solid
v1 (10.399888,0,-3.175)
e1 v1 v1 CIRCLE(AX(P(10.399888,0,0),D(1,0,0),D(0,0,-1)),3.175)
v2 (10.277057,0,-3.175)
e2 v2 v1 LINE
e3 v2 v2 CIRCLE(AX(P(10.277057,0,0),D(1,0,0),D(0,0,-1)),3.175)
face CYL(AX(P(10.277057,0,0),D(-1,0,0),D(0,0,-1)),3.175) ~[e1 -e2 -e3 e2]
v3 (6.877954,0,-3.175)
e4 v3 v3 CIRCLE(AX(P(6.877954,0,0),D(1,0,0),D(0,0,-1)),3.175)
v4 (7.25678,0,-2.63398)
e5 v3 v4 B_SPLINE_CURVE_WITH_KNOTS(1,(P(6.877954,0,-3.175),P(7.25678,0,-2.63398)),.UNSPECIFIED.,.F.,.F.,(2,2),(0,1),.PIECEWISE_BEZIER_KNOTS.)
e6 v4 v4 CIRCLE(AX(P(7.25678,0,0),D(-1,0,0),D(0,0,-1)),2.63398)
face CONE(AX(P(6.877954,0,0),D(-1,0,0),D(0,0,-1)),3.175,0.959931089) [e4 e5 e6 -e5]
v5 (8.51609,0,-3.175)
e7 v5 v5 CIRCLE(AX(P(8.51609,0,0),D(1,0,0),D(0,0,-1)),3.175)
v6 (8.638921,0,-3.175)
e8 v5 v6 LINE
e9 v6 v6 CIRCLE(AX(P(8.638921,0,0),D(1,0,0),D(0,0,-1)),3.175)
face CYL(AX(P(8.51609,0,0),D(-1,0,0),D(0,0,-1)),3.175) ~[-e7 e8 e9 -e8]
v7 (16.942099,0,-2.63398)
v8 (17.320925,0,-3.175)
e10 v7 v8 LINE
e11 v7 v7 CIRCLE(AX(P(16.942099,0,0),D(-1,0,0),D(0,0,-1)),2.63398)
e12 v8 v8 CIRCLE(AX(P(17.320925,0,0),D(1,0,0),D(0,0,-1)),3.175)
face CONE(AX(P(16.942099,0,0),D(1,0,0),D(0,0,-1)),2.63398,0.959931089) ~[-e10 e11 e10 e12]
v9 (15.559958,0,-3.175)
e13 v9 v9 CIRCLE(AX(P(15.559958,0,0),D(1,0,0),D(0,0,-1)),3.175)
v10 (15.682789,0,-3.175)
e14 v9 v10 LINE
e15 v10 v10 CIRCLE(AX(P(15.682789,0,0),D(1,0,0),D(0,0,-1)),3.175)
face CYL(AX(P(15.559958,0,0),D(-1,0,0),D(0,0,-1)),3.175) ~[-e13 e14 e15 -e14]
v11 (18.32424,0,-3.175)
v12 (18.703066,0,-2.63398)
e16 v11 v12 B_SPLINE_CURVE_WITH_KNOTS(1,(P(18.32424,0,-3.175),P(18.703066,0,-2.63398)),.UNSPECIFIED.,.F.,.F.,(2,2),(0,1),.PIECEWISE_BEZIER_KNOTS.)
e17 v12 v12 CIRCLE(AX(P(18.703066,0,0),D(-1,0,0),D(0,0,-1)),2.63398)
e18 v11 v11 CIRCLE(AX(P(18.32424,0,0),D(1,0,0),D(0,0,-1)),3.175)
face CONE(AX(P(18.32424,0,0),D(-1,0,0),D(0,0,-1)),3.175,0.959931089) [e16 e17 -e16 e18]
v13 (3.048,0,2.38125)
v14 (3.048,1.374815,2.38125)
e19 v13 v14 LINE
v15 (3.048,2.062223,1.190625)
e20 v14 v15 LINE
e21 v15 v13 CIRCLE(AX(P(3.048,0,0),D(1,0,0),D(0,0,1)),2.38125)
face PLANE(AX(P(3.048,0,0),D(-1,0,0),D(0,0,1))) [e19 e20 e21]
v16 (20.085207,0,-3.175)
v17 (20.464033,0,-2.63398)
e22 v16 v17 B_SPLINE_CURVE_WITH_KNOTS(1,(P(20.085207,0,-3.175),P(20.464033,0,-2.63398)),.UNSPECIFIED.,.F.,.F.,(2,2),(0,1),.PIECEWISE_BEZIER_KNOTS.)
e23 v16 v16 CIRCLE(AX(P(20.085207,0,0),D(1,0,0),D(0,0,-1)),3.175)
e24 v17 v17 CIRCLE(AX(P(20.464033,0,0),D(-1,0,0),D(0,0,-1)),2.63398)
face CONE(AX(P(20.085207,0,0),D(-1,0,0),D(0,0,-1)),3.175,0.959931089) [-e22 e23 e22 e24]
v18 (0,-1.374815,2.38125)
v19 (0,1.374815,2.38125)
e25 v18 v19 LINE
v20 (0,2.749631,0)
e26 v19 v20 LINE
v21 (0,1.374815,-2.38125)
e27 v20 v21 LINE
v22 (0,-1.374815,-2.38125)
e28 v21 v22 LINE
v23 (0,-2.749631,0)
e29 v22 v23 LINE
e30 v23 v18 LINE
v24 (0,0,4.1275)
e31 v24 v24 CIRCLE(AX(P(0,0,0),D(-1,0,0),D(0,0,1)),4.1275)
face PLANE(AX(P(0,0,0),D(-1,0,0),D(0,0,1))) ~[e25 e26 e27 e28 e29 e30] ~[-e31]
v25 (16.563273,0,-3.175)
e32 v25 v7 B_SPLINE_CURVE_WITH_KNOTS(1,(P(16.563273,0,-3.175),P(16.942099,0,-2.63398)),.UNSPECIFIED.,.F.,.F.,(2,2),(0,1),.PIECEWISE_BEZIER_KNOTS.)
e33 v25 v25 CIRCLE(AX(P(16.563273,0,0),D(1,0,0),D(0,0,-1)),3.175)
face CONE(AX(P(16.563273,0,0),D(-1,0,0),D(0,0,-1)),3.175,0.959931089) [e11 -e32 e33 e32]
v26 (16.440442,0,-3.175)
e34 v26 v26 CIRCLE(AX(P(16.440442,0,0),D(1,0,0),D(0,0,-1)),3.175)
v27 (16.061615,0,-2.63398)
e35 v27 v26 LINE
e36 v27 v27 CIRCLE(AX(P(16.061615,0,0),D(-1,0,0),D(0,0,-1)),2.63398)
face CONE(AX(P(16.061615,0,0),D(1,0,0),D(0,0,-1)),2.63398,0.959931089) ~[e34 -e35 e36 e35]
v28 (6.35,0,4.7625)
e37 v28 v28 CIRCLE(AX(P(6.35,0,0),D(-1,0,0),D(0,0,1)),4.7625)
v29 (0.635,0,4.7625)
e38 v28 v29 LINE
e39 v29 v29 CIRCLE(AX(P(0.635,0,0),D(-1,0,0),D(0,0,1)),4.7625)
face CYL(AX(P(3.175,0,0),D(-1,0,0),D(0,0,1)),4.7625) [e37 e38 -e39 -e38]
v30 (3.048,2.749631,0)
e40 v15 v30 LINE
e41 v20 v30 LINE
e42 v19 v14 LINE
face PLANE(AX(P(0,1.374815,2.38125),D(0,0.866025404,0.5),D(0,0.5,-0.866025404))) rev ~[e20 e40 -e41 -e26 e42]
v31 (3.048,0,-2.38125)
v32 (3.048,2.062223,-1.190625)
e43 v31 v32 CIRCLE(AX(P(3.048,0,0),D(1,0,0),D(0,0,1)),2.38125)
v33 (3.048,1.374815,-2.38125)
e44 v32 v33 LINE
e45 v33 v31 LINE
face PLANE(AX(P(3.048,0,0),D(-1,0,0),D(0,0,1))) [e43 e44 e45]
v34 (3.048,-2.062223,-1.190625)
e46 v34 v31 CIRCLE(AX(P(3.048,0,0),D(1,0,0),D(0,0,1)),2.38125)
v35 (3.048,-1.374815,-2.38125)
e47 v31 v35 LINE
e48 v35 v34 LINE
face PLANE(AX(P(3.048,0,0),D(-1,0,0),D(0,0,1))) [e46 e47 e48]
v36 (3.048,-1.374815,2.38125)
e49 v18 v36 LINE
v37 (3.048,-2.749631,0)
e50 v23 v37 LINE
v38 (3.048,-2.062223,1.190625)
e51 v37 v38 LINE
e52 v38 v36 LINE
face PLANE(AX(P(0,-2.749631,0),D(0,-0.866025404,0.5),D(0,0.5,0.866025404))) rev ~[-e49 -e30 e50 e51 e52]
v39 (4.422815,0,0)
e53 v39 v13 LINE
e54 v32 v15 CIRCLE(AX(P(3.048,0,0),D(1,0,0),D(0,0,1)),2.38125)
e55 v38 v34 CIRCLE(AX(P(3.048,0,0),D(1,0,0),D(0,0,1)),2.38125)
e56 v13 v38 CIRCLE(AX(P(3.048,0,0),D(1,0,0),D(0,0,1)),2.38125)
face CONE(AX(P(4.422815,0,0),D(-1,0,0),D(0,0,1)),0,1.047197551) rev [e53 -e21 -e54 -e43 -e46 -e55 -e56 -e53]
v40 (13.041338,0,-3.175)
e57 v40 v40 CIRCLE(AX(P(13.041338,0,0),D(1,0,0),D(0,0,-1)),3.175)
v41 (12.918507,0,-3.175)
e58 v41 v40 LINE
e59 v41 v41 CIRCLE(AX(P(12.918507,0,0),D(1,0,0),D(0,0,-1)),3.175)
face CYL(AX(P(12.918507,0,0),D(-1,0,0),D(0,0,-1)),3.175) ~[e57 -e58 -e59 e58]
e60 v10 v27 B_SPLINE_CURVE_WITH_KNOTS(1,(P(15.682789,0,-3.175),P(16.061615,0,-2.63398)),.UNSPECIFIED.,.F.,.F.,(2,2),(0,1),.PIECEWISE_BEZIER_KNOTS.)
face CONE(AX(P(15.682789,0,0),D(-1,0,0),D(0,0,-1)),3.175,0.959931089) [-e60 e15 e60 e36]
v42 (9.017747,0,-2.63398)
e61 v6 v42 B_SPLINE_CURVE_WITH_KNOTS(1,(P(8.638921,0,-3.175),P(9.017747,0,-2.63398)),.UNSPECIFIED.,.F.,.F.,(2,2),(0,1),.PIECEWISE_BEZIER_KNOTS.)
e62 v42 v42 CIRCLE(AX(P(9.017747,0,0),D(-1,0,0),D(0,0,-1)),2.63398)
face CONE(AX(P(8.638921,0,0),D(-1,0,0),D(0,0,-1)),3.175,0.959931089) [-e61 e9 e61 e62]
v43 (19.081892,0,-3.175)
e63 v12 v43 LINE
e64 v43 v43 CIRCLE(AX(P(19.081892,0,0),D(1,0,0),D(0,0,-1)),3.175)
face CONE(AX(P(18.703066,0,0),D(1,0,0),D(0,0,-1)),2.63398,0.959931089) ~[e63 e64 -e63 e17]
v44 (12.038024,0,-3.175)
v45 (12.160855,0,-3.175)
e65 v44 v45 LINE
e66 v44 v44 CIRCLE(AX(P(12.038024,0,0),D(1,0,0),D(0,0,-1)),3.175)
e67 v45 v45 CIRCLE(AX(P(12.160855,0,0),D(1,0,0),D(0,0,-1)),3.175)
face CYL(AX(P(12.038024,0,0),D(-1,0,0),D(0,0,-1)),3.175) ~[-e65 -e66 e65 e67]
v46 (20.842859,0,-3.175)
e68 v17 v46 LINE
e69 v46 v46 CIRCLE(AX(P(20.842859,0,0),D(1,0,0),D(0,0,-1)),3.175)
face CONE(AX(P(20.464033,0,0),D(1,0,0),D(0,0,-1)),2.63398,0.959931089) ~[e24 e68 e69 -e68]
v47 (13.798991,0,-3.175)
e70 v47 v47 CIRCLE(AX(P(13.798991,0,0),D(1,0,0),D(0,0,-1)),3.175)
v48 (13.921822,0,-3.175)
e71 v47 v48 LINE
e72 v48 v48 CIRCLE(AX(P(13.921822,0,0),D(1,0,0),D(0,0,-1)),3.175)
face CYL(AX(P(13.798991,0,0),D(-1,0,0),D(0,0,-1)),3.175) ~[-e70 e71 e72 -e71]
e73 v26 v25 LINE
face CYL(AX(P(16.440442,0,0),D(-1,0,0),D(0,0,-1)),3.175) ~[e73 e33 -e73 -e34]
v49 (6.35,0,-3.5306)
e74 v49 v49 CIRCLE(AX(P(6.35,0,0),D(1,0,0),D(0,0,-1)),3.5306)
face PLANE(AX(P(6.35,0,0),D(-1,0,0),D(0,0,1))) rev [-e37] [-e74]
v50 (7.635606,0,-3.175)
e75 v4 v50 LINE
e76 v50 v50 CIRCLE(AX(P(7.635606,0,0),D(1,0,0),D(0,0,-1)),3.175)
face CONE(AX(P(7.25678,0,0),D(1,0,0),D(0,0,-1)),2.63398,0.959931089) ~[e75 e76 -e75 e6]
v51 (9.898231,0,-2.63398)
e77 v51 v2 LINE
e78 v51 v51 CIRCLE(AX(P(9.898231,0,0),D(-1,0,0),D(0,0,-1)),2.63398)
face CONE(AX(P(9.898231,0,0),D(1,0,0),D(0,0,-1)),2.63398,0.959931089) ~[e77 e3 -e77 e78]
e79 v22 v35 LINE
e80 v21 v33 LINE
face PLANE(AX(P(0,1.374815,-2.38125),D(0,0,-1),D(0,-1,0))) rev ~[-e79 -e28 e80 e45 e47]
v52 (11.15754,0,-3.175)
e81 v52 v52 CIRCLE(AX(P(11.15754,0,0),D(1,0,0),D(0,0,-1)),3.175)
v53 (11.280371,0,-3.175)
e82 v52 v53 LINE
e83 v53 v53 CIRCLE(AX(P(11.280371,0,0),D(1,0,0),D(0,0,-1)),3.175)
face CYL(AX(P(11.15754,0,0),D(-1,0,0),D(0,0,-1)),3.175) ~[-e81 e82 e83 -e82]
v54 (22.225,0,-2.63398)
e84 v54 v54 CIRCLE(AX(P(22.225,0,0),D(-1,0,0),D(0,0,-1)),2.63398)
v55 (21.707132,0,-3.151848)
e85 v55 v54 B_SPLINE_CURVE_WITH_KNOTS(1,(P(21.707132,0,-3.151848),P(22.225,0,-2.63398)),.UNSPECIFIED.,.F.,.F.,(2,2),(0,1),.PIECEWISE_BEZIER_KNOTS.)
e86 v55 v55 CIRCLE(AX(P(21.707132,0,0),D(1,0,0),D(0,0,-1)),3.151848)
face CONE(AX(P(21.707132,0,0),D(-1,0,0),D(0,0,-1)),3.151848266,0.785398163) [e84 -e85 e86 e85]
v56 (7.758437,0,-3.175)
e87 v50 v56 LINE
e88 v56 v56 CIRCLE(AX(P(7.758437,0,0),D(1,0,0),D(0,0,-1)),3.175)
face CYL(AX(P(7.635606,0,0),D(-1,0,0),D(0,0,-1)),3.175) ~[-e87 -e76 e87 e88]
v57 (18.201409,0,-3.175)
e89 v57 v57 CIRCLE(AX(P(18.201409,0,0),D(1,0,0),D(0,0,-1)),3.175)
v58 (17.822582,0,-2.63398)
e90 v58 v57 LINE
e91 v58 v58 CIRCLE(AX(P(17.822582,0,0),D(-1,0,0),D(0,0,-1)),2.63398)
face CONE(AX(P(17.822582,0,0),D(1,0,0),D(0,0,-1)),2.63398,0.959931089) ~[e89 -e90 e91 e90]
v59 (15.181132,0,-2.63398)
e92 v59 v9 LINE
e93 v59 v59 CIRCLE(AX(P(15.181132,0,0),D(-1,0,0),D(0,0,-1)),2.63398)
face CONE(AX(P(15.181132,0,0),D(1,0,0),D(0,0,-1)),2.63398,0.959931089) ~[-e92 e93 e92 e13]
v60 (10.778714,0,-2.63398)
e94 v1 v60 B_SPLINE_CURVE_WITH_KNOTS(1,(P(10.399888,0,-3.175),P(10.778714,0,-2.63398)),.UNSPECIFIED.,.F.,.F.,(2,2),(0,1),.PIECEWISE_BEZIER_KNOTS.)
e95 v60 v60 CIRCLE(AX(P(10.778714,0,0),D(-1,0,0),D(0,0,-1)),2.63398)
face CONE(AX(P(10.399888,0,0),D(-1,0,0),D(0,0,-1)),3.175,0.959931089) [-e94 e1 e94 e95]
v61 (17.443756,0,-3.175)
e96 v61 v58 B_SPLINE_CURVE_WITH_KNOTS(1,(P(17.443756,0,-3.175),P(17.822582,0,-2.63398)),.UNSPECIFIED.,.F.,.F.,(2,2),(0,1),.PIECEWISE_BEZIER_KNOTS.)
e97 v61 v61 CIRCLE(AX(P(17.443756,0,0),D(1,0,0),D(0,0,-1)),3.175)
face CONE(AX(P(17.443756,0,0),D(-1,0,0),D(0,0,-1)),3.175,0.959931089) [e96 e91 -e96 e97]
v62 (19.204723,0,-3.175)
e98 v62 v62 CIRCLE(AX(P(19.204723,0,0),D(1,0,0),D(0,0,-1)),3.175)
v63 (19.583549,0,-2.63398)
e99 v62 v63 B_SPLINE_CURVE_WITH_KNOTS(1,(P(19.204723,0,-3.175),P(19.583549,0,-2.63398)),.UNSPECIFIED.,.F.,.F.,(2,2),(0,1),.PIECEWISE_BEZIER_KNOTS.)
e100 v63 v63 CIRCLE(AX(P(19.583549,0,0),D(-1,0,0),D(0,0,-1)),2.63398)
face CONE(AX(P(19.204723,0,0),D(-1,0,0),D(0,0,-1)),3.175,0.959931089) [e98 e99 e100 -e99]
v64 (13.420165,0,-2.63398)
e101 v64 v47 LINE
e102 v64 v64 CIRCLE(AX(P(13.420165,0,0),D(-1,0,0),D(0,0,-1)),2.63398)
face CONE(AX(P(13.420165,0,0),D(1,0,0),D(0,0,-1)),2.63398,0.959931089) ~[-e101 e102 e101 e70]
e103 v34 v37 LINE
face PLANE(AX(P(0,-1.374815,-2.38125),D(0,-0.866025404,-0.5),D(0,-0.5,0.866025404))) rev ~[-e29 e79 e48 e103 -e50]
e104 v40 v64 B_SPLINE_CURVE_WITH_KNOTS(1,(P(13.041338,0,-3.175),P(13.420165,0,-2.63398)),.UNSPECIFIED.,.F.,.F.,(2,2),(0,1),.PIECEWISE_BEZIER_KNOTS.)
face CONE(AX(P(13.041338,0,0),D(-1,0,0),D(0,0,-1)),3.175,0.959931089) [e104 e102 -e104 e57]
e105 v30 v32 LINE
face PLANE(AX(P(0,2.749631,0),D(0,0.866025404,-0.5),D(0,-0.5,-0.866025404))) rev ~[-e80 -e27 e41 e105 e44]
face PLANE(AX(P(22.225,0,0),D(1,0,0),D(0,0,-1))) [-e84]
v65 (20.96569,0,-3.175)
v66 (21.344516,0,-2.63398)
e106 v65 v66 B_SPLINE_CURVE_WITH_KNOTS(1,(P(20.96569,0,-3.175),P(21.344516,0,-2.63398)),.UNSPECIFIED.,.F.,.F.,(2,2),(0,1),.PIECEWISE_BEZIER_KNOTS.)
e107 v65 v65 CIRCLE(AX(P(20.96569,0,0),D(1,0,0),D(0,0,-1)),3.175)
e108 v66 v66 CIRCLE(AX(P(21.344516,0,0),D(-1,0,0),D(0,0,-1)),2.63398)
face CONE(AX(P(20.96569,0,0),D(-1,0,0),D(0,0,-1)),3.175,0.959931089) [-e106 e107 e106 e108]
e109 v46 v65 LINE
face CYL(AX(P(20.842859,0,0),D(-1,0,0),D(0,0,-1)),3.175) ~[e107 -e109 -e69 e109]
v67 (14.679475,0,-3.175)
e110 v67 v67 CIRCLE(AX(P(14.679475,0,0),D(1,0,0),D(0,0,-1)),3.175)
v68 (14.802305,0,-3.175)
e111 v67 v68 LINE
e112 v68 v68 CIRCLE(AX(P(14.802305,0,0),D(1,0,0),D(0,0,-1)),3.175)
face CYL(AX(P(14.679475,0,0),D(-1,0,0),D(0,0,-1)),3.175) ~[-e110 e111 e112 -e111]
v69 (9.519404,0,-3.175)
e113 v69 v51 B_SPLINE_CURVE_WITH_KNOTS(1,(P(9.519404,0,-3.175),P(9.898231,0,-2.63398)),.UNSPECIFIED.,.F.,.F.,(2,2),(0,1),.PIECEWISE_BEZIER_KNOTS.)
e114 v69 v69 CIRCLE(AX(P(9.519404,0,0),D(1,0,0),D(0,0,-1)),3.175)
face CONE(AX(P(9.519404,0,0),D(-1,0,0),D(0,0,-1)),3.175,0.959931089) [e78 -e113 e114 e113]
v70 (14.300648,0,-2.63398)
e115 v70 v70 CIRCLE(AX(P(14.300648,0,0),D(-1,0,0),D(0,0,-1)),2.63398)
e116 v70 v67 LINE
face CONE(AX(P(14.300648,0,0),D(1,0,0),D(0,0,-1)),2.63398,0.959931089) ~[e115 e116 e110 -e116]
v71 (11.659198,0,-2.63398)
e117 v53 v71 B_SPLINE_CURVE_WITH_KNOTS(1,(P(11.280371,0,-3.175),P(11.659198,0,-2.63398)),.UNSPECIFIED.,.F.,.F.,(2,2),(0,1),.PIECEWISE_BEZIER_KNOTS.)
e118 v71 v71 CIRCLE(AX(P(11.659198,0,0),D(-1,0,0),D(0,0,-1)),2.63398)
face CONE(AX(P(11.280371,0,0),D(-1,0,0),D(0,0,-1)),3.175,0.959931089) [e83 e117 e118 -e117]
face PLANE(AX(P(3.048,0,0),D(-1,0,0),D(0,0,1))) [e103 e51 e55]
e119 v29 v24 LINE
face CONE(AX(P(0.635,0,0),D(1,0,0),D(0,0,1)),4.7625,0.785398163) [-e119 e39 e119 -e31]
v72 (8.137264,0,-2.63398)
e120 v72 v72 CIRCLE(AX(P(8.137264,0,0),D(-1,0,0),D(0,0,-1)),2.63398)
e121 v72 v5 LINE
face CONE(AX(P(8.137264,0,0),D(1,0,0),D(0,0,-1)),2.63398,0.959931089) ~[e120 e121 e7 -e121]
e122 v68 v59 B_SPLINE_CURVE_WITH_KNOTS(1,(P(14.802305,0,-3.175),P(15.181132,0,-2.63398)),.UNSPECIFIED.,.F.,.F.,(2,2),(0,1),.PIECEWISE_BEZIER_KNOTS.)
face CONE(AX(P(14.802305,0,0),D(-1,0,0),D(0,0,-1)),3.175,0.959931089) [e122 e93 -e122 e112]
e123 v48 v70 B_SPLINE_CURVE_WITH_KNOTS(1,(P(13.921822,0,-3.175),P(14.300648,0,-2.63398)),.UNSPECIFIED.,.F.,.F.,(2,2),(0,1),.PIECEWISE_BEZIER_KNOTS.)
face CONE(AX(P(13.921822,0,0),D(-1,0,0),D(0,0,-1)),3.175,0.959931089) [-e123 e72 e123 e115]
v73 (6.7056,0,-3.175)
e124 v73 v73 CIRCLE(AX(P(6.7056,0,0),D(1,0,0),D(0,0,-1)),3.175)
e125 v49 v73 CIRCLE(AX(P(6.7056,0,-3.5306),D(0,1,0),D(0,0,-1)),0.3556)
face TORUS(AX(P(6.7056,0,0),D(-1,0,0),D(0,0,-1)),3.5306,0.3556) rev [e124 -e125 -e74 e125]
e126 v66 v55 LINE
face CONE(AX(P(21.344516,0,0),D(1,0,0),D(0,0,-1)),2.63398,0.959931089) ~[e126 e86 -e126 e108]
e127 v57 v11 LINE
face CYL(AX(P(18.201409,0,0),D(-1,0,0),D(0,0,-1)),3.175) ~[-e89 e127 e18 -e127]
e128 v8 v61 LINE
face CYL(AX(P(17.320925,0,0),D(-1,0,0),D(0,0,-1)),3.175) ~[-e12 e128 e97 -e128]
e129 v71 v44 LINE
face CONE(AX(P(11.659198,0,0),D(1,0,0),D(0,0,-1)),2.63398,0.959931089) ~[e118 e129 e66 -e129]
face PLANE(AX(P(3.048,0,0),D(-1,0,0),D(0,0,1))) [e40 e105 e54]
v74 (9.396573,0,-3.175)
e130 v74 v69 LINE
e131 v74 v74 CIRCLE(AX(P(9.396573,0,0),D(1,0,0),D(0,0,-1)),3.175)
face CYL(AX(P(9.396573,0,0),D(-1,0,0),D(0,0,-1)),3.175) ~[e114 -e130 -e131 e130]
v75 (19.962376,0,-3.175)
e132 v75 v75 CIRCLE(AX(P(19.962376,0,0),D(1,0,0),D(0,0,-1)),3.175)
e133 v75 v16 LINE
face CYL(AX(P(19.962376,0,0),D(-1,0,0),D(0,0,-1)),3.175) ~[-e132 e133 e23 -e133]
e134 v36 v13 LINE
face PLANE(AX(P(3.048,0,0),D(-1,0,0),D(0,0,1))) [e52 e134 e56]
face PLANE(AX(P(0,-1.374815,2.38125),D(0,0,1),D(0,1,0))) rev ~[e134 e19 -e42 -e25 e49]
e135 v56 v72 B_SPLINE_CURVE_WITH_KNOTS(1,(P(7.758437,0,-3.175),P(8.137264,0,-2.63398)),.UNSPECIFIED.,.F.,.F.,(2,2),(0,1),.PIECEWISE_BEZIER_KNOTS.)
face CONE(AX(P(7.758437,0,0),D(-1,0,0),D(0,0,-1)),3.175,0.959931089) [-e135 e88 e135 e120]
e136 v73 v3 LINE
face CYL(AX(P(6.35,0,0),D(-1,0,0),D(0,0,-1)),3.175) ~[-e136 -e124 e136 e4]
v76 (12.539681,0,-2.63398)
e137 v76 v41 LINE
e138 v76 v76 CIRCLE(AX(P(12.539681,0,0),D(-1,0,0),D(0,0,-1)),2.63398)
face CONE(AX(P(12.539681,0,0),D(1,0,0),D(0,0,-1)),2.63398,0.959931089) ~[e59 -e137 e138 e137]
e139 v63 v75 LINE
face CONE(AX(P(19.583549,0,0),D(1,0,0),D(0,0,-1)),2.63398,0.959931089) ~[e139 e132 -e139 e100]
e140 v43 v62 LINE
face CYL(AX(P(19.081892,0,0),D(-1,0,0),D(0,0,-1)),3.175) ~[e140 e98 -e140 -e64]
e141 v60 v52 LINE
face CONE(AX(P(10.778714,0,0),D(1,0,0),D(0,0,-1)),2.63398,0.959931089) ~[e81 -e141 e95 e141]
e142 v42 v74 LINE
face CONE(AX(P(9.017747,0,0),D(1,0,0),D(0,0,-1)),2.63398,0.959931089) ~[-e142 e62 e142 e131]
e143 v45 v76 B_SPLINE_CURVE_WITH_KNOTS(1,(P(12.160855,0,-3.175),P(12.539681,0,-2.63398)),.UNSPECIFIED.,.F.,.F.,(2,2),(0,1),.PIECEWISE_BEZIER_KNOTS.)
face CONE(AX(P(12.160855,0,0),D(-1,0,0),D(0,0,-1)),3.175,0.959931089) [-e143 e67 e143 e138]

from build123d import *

# Parameters (mm, degrees)
SKETCH1_W            = 6.35
SKETCH1_H            = 4.7625
SKETCH2_R            = 3.175
BOSS_EXTRUDE1_DEPTH  = 0.527953718
SKETCH3_R            = 3.175
BOSS_EXTRUDE2_DEPTH  = 0.378826282
BOSS_EXTRUDE2_TAPER  = 55.000000001
SKETCH4_R            = 2.63398
BOSS_EXTRUDE3_DEPTH  = 0.378826282
BOSS_EXTRUDE3_DRAFT  = -54.999999998
SKETCH5_R            = 3.175
BOSS_EXTRUDE4_DEPTH  = 0.122830965
SKETCH6_R            = 3.175
BOSS_EXTRUDE5_DEPTH  = 0.378826282
BOSS_EXTRUDE5_TAPER  = 54.999999998
SKETCH7_R            = 2.63398
BOSS_EXTRUDE6_DEPTH  = 0.378826282
BOSS_EXTRUDE6_DRAFT  = -54.999999998
SKETCH8_R            = 3.175
BOSS_EXTRUDE7_DEPTH  = 0.122830965
SKETCH9_R            = 3.175
BOSS_EXTRUDE8_DEPTH  = 0.378826282
BOSS_EXTRUDE8_TAPER  = 54.999999998
SKETCH10_R           = 2.63398
BOSS_EXTRUDE9_DEPTH  = 0.378826282
BOSS_EXTRUDE9_DRAFT  = -54.999999998
SKETCH11_R           = 3.175
BOSS_EXTRUDE10_DEPTH = 0.122830965
SKETCH12_R           = 3.175
BOSS_EXTRUDE11_DEPTH = 0.378826282
BOSS_EXTRUDE11_TAPER = 54.999999998
SKETCH13_R           = 2.63398
BOSS_EXTRUDE12_DEPTH = 0.378826282
BOSS_EXTRUDE12_DRAFT = -54.999999998
SKETCH14_R           = 3.175
BOSS_EXTRUDE13_DEPTH = 0.122830965
SKETCH15_R           = 3.175
BOSS_EXTRUDE14_DEPTH = 0.378826282
BOSS_EXTRUDE14_TAPER = 54.999999998
SKETCH16_R           = 2.63398
BOSS_EXTRUDE15_DEPTH = 0.378826282
BOSS_EXTRUDE15_DRAFT = -54.999999998
SKETCH17_R           = 3.175
BOSS_EXTRUDE16_DEPTH = 0.122830965
SKETCH18_R           = 3.175
BOSS_EXTRUDE17_DEPTH = 0.378826282
BOSS_EXTRUDE17_TAPER = 54.999999998
SKETCH19_R           = 2.63398
BOSS_EXTRUDE18_DEPTH = 0.378826282
BOSS_EXTRUDE18_DRAFT = -54.999999998
SKETCH20_R           = 3.175
BOSS_EXTRUDE19_DEPTH = 0.122830965
SKETCH21_R           = 3.175
BOSS_EXTRUDE20_DEPTH = 0.378826282
BOSS_EXTRUDE20_TAPER = 54.999999998
SKETCH22_R           = 2.63398
BOSS_EXTRUDE21_DEPTH = 0.378826282
BOSS_EXTRUDE21_DRAFT = -54.999999998
SKETCH23_R           = 3.175
BOSS_EXTRUDE22_DEPTH = 0.122830965
SKETCH24_R           = 3.175
BOSS_EXTRUDE23_DEPTH = 0.378826282
BOSS_EXTRUDE23_TAPER = 54.999999998
SKETCH25_R           = 2.63398
BOSS_EXTRUDE24_DEPTH = 0.378826282
BOSS_EXTRUDE24_DRAFT = -54.999999998
SKETCH26_R           = 3.175
BOSS_EXTRUDE25_DEPTH = 0.122830965
SKETCH27_R           = 3.175
BOSS_EXTRUDE26_DEPTH = 0.378826282
BOSS_EXTRUDE26_TAPER = 55
SKETCH28_R           = 2.63398
BOSS_EXTRUDE27_DEPTH = 0.378826282
BOSS_EXTRUDE27_DRAFT = -54.999999998
SKETCH29_R           = 3.175
BOSS_EXTRUDE28_DEPTH = 0.122830965
SKETCH30_R           = 3.175
BOSS_EXTRUDE29_DEPTH = 0.378826282
BOSS_EXTRUDE29_TAPER = 54.999999998
SKETCH31_R           = 2.63398
BOSS_EXTRUDE30_DEPTH = 0.378826282
BOSS_EXTRUDE30_DRAFT = -54.999999998
SKETCH32_R           = 3.175
BOSS_EXTRUDE31_DEPTH = 0.122830965
SKETCH33_R           = 3.175
BOSS_EXTRUDE32_DEPTH = 0.378826282
BOSS_EXTRUDE32_TAPER = 55
SKETCH34_R           = 2.63398
BOSS_EXTRUDE33_DEPTH = 0.378826282
BOSS_EXTRUDE33_DRAFT = -54.999999998
SKETCH35_R           = 3.175
BOSS_EXTRUDE34_DEPTH = 0.122830965
SKETCH36_R           = 3.175
BOSS_EXTRUDE35_DEPTH = 0.378826282
BOSS_EXTRUDE35_TAPER = 55
SKETCH37_R           = 2.63398
BOSS_EXTRUDE36_DEPTH = 0.378826282
BOSS_EXTRUDE36_DRAFT = -54.999999998
SKETCH38_R           = 3.175
BOSS_EXTRUDE37_DEPTH = 0.122830965
SKETCH39_R           = 3.175
BOSS_EXTRUDE38_DEPTH = 0.378826282
BOSS_EXTRUDE38_TAPER = 55
SKETCH40_R           = 2.63398
BOSS_EXTRUDE39_DEPTH = 0.378826282
BOSS_EXTRUDE39_DRAFT = -54.999999998
SKETCH41_R           = 3.175
BOSS_EXTRUDE40_DEPTH = 0.122830965
SKETCH42_R           = 3.175
BOSS_EXTRUDE41_DEPTH = 0.378826282
BOSS_EXTRUDE41_TAPER = 55
SKETCH43_R           = 2.63398
BOSS_EXTRUDE42_DEPTH = 0.378826282
BOSS_EXTRUDE42_DRAFT = -54.999999998
SKETCH44_R           = 3.175
BOSS_EXTRUDE43_DEPTH = 0.122830965
SKETCH45_R           = 3.175
BOSS_EXTRUDE44_DEPTH = 0.378826282
BOSS_EXTRUDE44_TAPER = 55
SKETCH46_R           = 2.63398
BOSS_EXTRUDE45_DEPTH = 0.378826282
BOSS_EXTRUDE45_DRAFT = -54.999999998
SKETCH47_R           = 3.175
BOSS_EXTRUDE46_DEPTH = 0.122830965
SKETCH48_R           = 3.175
BOSS_EXTRUDE47_DEPTH = 0.378826282
BOSS_EXTRUDE47_TAPER = 55
SKETCH49_R           = 2.63398
BOSS_EXTRUDE48_DEPTH = 0.378826282
BOSS_EXTRUDE48_DRAFT = -54.999999998
SKETCH50_R           = 3.175
BOSS_EXTRUDE49_DEPTH = 0.122830965
SKETCH51_R           = 3.175
BOSS_EXTRUDE50_DEPTH = 0.378826282
BOSS_EXTRUDE50_TAPER = 55
SKETCH52_R           = 2.63398
BOSS_EXTRUDE51_DEPTH = 0.362615264
BOSS_EXTRUDE51_DRAFT = -54.999999997
SKETCH53_R           = 3.151848266
BOSS_EXTRUDE52_DEPTH = 0.517868266
BOSS_EXTRUDE52_TAPER = 45.000000003
CUT_EXTRUDE1_DEPTH   = 3.048
CHAMFER1_SIZE        = 0.635
FILLET1_R            = 0.3556


with BuildPart() as part:
    # Sketch1 → Revolve1 (revolve)
    with BuildSketch(Plane(origin=(0, 0, 0), x_dir=(-1, 0, 0), z_dir=(0, 0, -1)), mode=Mode.PRIVATE) as revolve1_sk:
        with Locations((-3.175, 2.38125)):
            Rectangle(SKETCH1_W, SKETCH1_H)
    revolve(revolve1_sk.sketch.rotate(Axis((6.35, 0, 0), (-1, 0, 0)), 270), axis=Axis((6.35, 0, 0), (-1, 0, 0)))

    # Sketch2 → Boss-Extrude1 (add)
    with BuildSketch(Plane(origin=(6.35, 0, 0), x_dir=(0, 0, -1), z_dir=(1, 0, 0))):
        Circle(SKETCH2_R)
    extrude(amount=BOSS_EXTRUDE1_DEPTH)

    # Sketch3 → Boss-Extrude2 (add)
    with BuildSketch(Plane(origin=(6.877953718, 0, 0), x_dir=(0, 0, -1), z_dir=(1, 0, 0))):
        Circle(SKETCH3_R)
    extrude(amount=BOSS_EXTRUDE2_DEPTH, taper=BOSS_EXTRUDE2_TAPER)


with BuildPart() as boss_extrude3_tool:
    # Sketch4 → Boss-Extrude3 (with draft: the straight prism first)
    with BuildSketch(Plane(origin=(7.25678, 0, 0), x_dir=(0, 0, -1), z_dir=(1, 0, 0))):
        Circle(SKETCH4_R)
    extrude(amount=BOSS_EXTRUDE3_DEPTH)
    # Boss-Extrude3: the draft: its side faces are tilted about the plane it starts from
    boss_extrude3_sides = [boss_extrude3_tool.faces().sort_by_distance(p)[0] for p in [
        (7.446193141, 0, 2.63398),
    ]]
    draft(boss_extrude3_sides, Plane(origin=(7.25678, 0, 0), x_dir=(0, 0, -1), z_dir=(1, 0, 0)), BOSS_EXTRUDE3_DRAFT)


with BuildPart() as part_1:
    add(part.part)

    # Boss-Extrude3: add boss_extrude3_tool
    add(boss_extrude3_tool.part)

    # Sketch5 → Boss-Extrude4 (add)
    with BuildSketch(Plane(origin=(7.635606282, 0, 0), x_dir=(0, 0, -1), z_dir=(1, 0, 0))):
        Circle(SKETCH5_R)
    extrude(amount=BOSS_EXTRUDE4_DEPTH)

    # Sketch6 → Boss-Extrude5 (add)
    with BuildSketch(Plane(origin=(7.758437247, 0, 0), x_dir=(0, 0, -1), z_dir=(1, 0, 0))):
        Circle(SKETCH6_R)
    extrude(amount=BOSS_EXTRUDE5_DEPTH, taper=BOSS_EXTRUDE5_TAPER)


with BuildPart() as boss_extrude6_tool:
    # Sketch7 → Boss-Extrude6 (with draft: the straight prism first)
    with BuildSketch(Plane(origin=(8.137263529, 0, 0), x_dir=(0, 0, -1), z_dir=(1, 0, 0))):
        Circle(SKETCH7_R)
    extrude(amount=BOSS_EXTRUDE6_DEPTH)
    # Boss-Extrude6: the draft: its side faces are tilted about the plane it starts from
    boss_extrude6_sides = [boss_extrude6_tool.faces().sort_by_distance(p)[0] for p in [
        (8.326676671, 0, 2.63398),
    ]]
    draft(boss_extrude6_sides, Plane(origin=(8.137263529, 0, 0), x_dir=(0, 0, -1), z_dir=(1, 0, 0)), BOSS_EXTRUDE6_DRAFT)


with BuildPart() as part_2:
    add(part_1.part)

    # Boss-Extrude6: add boss_extrude6_tool
    add(boss_extrude6_tool.part)

    # Sketch8 → Boss-Extrude7 (add)
    with BuildSketch(Plane(origin=(8.516089812, 0, 0), x_dir=(0, 0, -1), z_dir=(1, 0, 0))):
        Circle(SKETCH8_R)
    extrude(amount=BOSS_EXTRUDE7_DEPTH)

    # Sketch9 → Boss-Extrude8 (add)
    with BuildSketch(Plane(origin=(8.638920777, 0, 0), x_dir=(0, 0, -1), z_dir=(1, 0, 0))):
        Circle(SKETCH9_R)
    extrude(amount=BOSS_EXTRUDE8_DEPTH, taper=BOSS_EXTRUDE8_TAPER)


with BuildPart() as boss_extrude9_tool:
    # Sketch10 → Boss-Extrude9 (with draft: the straight prism first)
    with BuildSketch(Plane(origin=(9.017747059, 0, 0), x_dir=(0, 0, -1), z_dir=(1, 0, 0))):
        Circle(SKETCH10_R)
    extrude(amount=BOSS_EXTRUDE9_DEPTH)
    # Boss-Extrude9: the draft: its side faces are tilted about the plane it starts from
    boss_extrude9_sides = [boss_extrude9_tool.faces().sort_by_distance(p)[0] for p in [
        (9.2071602, 0, 2.63398),
    ]]
    draft(boss_extrude9_sides, Plane(origin=(9.017747059, 0, 0), x_dir=(0, 0, -1), z_dir=(1, 0, 0)), BOSS_EXTRUDE9_DRAFT)


with BuildPart() as part_3:
    add(part_2.part)

    # Boss-Extrude9: add boss_extrude9_tool
    add(boss_extrude9_tool.part)

    # Sketch11 → Boss-Extrude10 (add)
    with BuildSketch(Plane(origin=(9.396573341, 0, 0), x_dir=(0, 0, -1), z_dir=(1, 0, 0))):
        Circle(SKETCH11_R)
    extrude(amount=BOSS_EXTRUDE10_DEPTH)

    # Sketch12 → Boss-Extrude11 (add)
    with BuildSketch(Plane(origin=(9.519404306, 0, 0), x_dir=(0, 0, -1), z_dir=(1, 0, 0))):
        Circle(SKETCH12_R)
    extrude(amount=BOSS_EXTRUDE11_DEPTH, taper=BOSS_EXTRUDE11_TAPER)


with BuildPart() as boss_extrude12_tool:
    # Sketch13 → Boss-Extrude12 (with draft: the straight prism first)
    with BuildSketch(Plane(origin=(9.898230588, 0, 0), x_dir=(0, 0, -1), z_dir=(1, 0, 0))):
        Circle(SKETCH13_R)
    extrude(amount=BOSS_EXTRUDE12_DEPTH)
    # Boss-Extrude12: the draft: its side faces are tilted about the plane it starts from
    boss_extrude12_sides = [boss_extrude12_tool.faces().sort_by_distance(p)[0] for p in [
        (10.087643729, 0, 2.63398),
    ]]
    draft(boss_extrude12_sides, Plane(origin=(9.898230588, 0, 0), x_dir=(0, 0, -1), z_dir=(1, 0, 0)), BOSS_EXTRUDE12_DRAFT)


with BuildPart() as part_4:
    add(part_3.part)

    # Boss-Extrude12: add boss_extrude12_tool
    add(boss_extrude12_tool.part)

    # Sketch14 → Boss-Extrude13 (add)
    with BuildSketch(Plane(origin=(10.277056871, 0, 0), x_dir=(0, 0, -1), z_dir=(1, 0, 0))):
        Circle(SKETCH14_R)
    extrude(amount=BOSS_EXTRUDE13_DEPTH)

    # Sketch15 → Boss-Extrude14 (add)
    with BuildSketch(Plane(origin=(10.399887835, 0, 0), x_dir=(0, 0, -1), z_dir=(1, 0, 0))):
        Circle(SKETCH15_R)
    extrude(amount=BOSS_EXTRUDE14_DEPTH, taper=BOSS_EXTRUDE14_TAPER)


with BuildPart() as boss_extrude15_tool:
    # Sketch16 → Boss-Extrude15 (with draft: the straight prism first)
    with BuildSketch(Plane(origin=(10.778714118, 0, 0), x_dir=(0, 0, -1), z_dir=(1, 0, 0))):
        Circle(SKETCH16_R)
    extrude(amount=BOSS_EXTRUDE15_DEPTH)
    # Boss-Extrude15: the draft: its side faces are tilted about the plane it starts from
    boss_extrude15_sides = [boss_extrude15_tool.faces().sort_by_distance(p)[0] for p in [
        (10.968127259, 0, 2.63398),
    ]]
    draft(boss_extrude15_sides, Plane(origin=(10.778714118, 0, 0), x_dir=(0, 0, -1), z_dir=(1, 0, 0)), BOSS_EXTRUDE15_DRAFT)


with BuildPart() as part_5:
    add(part_4.part)

    # Boss-Extrude15: add boss_extrude15_tool
    add(boss_extrude15_tool.part)

    # Sketch17 → Boss-Extrude16 (add)
    with BuildSketch(Plane(origin=(11.1575404, 0, 0), x_dir=(0, 0, -1), z_dir=(1, 0, 0))):
        Circle(SKETCH17_R)
    extrude(amount=BOSS_EXTRUDE16_DEPTH)

    # Sketch18 → Boss-Extrude17 (add)
    with BuildSketch(Plane(origin=(11.280371365, 0, 0), x_dir=(0, 0, -1), z_dir=(1, 0, 0))):
        Circle(SKETCH18_R)
    extrude(amount=BOSS_EXTRUDE17_DEPTH, taper=BOSS_EXTRUDE17_TAPER)


with BuildPart() as boss_extrude18_tool:
    # Sketch19 → Boss-Extrude18 (with draft: the straight prism first)
    with BuildSketch(Plane(origin=(11.659197647, 0, 0), x_dir=(0, 0, -1), z_dir=(1, 0, 0))):
        Circle(SKETCH19_R)
    extrude(amount=BOSS_EXTRUDE18_DEPTH)
    # Boss-Extrude18: the draft: its side faces are tilted about the plane it starts from
    boss_extrude18_sides = [boss_extrude18_tool.faces().sort_by_distance(p)[0] for p in [
        (11.848610788, 0, 2.63398),
    ]]
    draft(boss_extrude18_sides, Plane(origin=(11.659197647, 0, 0), x_dir=(0, 0, -1), z_dir=(1, 0, 0)), BOSS_EXTRUDE18_DRAFT)


with BuildPart() as part_6:
    add(part_5.part)

    # Boss-Extrude18: add boss_extrude18_tool
    add(boss_extrude18_tool.part)

    # Sketch20 → Boss-Extrude19 (add)
    with BuildSketch(Plane(origin=(12.038023929, 0, 0), x_dir=(0, 0, -1), z_dir=(1, 0, 0))):
        Circle(SKETCH20_R)
    extrude(amount=BOSS_EXTRUDE19_DEPTH)

    # Sketch21 → Boss-Extrude20 (add)
    with BuildSketch(Plane(origin=(12.160854894, 0, 0), x_dir=(0, 0, -1), z_dir=(1, 0, 0))):
        Circle(SKETCH21_R)
    extrude(amount=BOSS_EXTRUDE20_DEPTH, taper=BOSS_EXTRUDE20_TAPER)


with BuildPart() as boss_extrude21_tool:
    # Sketch22 → Boss-Extrude21 (with draft: the straight prism first)
    with BuildSketch(Plane(origin=(12.539681176, 0, 0), x_dir=(0, 0, -1), z_dir=(1, 0, 0))):
        Circle(SKETCH22_R)
    extrude(amount=BOSS_EXTRUDE21_DEPTH)
    # Boss-Extrude21: the draft: its side faces are tilted about the plane it starts from
    boss_extrude21_sides = [boss_extrude21_tool.faces().sort_by_distance(p)[0] for p in [
        (12.729094318, 0, 2.63398),
    ]]
    draft(boss_extrude21_sides, Plane(origin=(12.539681176, 0, 0), x_dir=(0, 0, -1), z_dir=(1, 0, 0)), BOSS_EXTRUDE21_DRAFT)


with BuildPart() as part_7:
    add(part_6.part)

    # Boss-Extrude21: add boss_extrude21_tool
    add(boss_extrude21_tool.part)

    # Sketch23 → Boss-Extrude22 (add)
    with BuildSketch(Plane(origin=(12.918507459, 0, 0), x_dir=(0, 0, -1), z_dir=(1, 0, 0))):
        Circle(SKETCH23_R)
    extrude(amount=BOSS_EXTRUDE22_DEPTH)

    # Sketch24 → Boss-Extrude23 (add)
    with BuildSketch(Plane(origin=(13.041338424, 0, 0), x_dir=(0, 0, -1), z_dir=(1, 0, 0))):
        Circle(SKETCH24_R)
    extrude(amount=BOSS_EXTRUDE23_DEPTH, taper=BOSS_EXTRUDE23_TAPER)


with BuildPart() as boss_extrude24_tool:
    # Sketch25 → Boss-Extrude24 (with draft: the straight prism first)
    with BuildSketch(Plane(origin=(13.420164706, 0, 0), x_dir=(0, 0, -1), z_dir=(1, 0, 0))):
        Circle(SKETCH25_R)
    extrude(amount=BOSS_EXTRUDE24_DEPTH)
    # Boss-Extrude24: the draft: its side faces are tilted about the plane it starts from
    boss_extrude24_sides = [boss_extrude24_tool.faces().sort_by_distance(p)[0] for p in [
        (13.609577847, 0, 2.63398),
    ]]
    draft(boss_extrude24_sides, Plane(origin=(13.420164706, 0, 0), x_dir=(0, 0, -1), z_dir=(1, 0, 0)), BOSS_EXTRUDE24_DRAFT)


with BuildPart() as part_8:
    add(part_7.part)

    # Boss-Extrude24: add boss_extrude24_tool
    add(boss_extrude24_tool.part)

    # Sketch26 → Boss-Extrude25 (add)
    with BuildSketch(Plane(origin=(13.798990988, 0, 0), x_dir=(0, 0, -1), z_dir=(1, 0, 0))):
        Circle(SKETCH26_R)
    extrude(amount=BOSS_EXTRUDE25_DEPTH)

    # Sketch27 → Boss-Extrude26 (add)
    with BuildSketch(Plane(origin=(13.921821953, 0, 0), x_dir=(0, 0, -1), z_dir=(1, 0, 0))):
        Circle(SKETCH27_R)
    extrude(amount=BOSS_EXTRUDE26_DEPTH, taper=BOSS_EXTRUDE26_TAPER)


with BuildPart() as boss_extrude27_tool:
    # Sketch28 → Boss-Extrude27 (with draft: the straight prism first)
    with BuildSketch(Plane(origin=(14.300648235, 0, 0), x_dir=(0, 0, -1), z_dir=(1, 0, 0))):
        Circle(SKETCH28_R)
    extrude(amount=BOSS_EXTRUDE27_DEPTH)
    # Boss-Extrude27: the draft: its side faces are tilted about the plane it starts from
    boss_extrude27_sides = [boss_extrude27_tool.faces().sort_by_distance(p)[0] for p in [
        (14.490061376, 0, 2.63398),
    ]]
    draft(boss_extrude27_sides, Plane(origin=(14.300648235, 0, 0), x_dir=(0, 0, -1), z_dir=(1, 0, 0)), BOSS_EXTRUDE27_DRAFT)


with BuildPart() as part_9:
    add(part_8.part)

    # Boss-Extrude27: add boss_extrude27_tool
    add(boss_extrude27_tool.part)

    # Sketch29 → Boss-Extrude28 (add)
    with BuildSketch(Plane(origin=(14.679474518, 0, 0), x_dir=(0, 0, -1), z_dir=(1, 0, 0))):
        Circle(SKETCH29_R)
    extrude(amount=BOSS_EXTRUDE28_DEPTH)

    # Sketch30 → Boss-Extrude29 (add)
    with BuildSketch(Plane(origin=(14.802305482, 0, 0), x_dir=(0, 0, -1), z_dir=(1, 0, 0))):
        Circle(SKETCH30_R)
    extrude(amount=BOSS_EXTRUDE29_DEPTH, taper=BOSS_EXTRUDE29_TAPER)


with BuildPart() as boss_extrude30_tool:
    # Sketch31 → Boss-Extrude30 (with draft: the straight prism first)
    with BuildSketch(Plane(origin=(15.181131765, 0, 0), x_dir=(0, 0, -1), z_dir=(1, 0, 0))):
        Circle(SKETCH31_R)
    extrude(amount=BOSS_EXTRUDE30_DEPTH)
    # Boss-Extrude30: the draft: its side faces are tilted about the plane it starts from
    boss_extrude30_sides = [boss_extrude30_tool.faces().sort_by_distance(p)[0] for p in [
        (15.370544906, 0, 2.63398),
    ]]
    draft(boss_extrude30_sides, Plane(origin=(15.181131765, 0, 0), x_dir=(0, 0, -1), z_dir=(1, 0, 0)), BOSS_EXTRUDE30_DRAFT)


with BuildPart() as part_10:
    add(part_9.part)

    # Boss-Extrude30: add boss_extrude30_tool
    add(boss_extrude30_tool.part)

    # Sketch32 → Boss-Extrude31 (add)
    with BuildSketch(Plane(origin=(15.559958047, 0, 0), x_dir=(0, 0, -1), z_dir=(1, 0, 0))):
        Circle(SKETCH32_R)
    extrude(amount=BOSS_EXTRUDE31_DEPTH)

    # Sketch33 → Boss-Extrude32 (add)
    with BuildSketch(Plane(origin=(15.682789012, 0, 0), x_dir=(0, 0, -1), z_dir=(1, 0, 0))):
        Circle(SKETCH33_R)
    extrude(amount=BOSS_EXTRUDE32_DEPTH, taper=BOSS_EXTRUDE32_TAPER)


with BuildPart() as boss_extrude33_tool:
    # Sketch34 → Boss-Extrude33 (with draft: the straight prism first)
    with BuildSketch(Plane(origin=(16.061615294, 0, 0), x_dir=(0, 0, -1), z_dir=(1, 0, 0))):
        Circle(SKETCH34_R)
    extrude(amount=BOSS_EXTRUDE33_DEPTH)
    # Boss-Extrude33: the draft: its side faces are tilted about the plane it starts from
    boss_extrude33_sides = [boss_extrude33_tool.faces().sort_by_distance(p)[0] for p in [
        (16.251028435, 0, 2.63398),
    ]]
    draft(boss_extrude33_sides, Plane(origin=(16.061615294, 0, 0), x_dir=(0, 0, -1), z_dir=(1, 0, 0)), BOSS_EXTRUDE33_DRAFT)


with BuildPart() as part_11:
    add(part_10.part)

    # Boss-Extrude33: add boss_extrude33_tool
    add(boss_extrude33_tool.part)

    # Sketch35 → Boss-Extrude34 (add)
    with BuildSketch(Plane(origin=(16.440441576, 0, 0), x_dir=(0, 0, -1), z_dir=(1, 0, 0))):
        Circle(SKETCH35_R)
    extrude(amount=BOSS_EXTRUDE34_DEPTH)

    # Sketch36 → Boss-Extrude35 (add)
    with BuildSketch(Plane(origin=(16.563272541, 0, 0), x_dir=(0, 0, -1), z_dir=(1, 0, 0))):
        Circle(SKETCH36_R)
    extrude(amount=BOSS_EXTRUDE35_DEPTH, taper=BOSS_EXTRUDE35_TAPER)


with BuildPart() as boss_extrude36_tool:
    # Sketch37 → Boss-Extrude36 (with draft: the straight prism first)
    with BuildSketch(Plane(origin=(16.942098824, 0, 0), x_dir=(0, 0, -1), z_dir=(1, 0, 0))):
        Circle(SKETCH37_R)
    extrude(amount=BOSS_EXTRUDE36_DEPTH)
    # Boss-Extrude36: the draft: its side faces are tilted about the plane it starts from
    boss_extrude36_sides = [boss_extrude36_tool.faces().sort_by_distance(p)[0] for p in [
        (17.131511965, 0, 2.63398),
    ]]
    draft(boss_extrude36_sides, Plane(origin=(16.942098824, 0, 0), x_dir=(0, 0, -1), z_dir=(1, 0, 0)), BOSS_EXTRUDE36_DRAFT)


with BuildPart() as part_12:
    add(part_11.part)

    # Boss-Extrude36: add boss_extrude36_tool
    add(boss_extrude36_tool.part)

    # Sketch38 → Boss-Extrude37 (add)
    with BuildSketch(Plane(origin=(17.320925106, 0, 0), x_dir=(0, 0, -1), z_dir=(1, 0, 0))):
        Circle(SKETCH38_R)
    extrude(amount=BOSS_EXTRUDE37_DEPTH)

    # Sketch39 → Boss-Extrude38 (add)
    with BuildSketch(Plane(origin=(17.443756071, 0, 0), x_dir=(0, 0, -1), z_dir=(1, 0, 0))):
        Circle(SKETCH39_R)
    extrude(amount=BOSS_EXTRUDE38_DEPTH, taper=BOSS_EXTRUDE38_TAPER)


with BuildPart() as boss_extrude39_tool:
    # Sketch40 → Boss-Extrude39 (with draft: the straight prism first)
    with BuildSketch(Plane(origin=(17.822582353, 0, 0), x_dir=(0, 0, -1), z_dir=(1, 0, 0))):
        Circle(SKETCH40_R)
    extrude(amount=BOSS_EXTRUDE39_DEPTH)
    # Boss-Extrude39: the draft: its side faces are tilted about the plane it starts from
    boss_extrude39_sides = [boss_extrude39_tool.faces().sort_by_distance(p)[0] for p in [
        (18.011995494, 0, 2.63398),
    ]]
    draft(boss_extrude39_sides, Plane(origin=(17.822582353, 0, 0), x_dir=(0, 0, -1), z_dir=(1, 0, 0)), BOSS_EXTRUDE39_DRAFT)


with BuildPart() as part_13:
    add(part_12.part)

    # Boss-Extrude39: add boss_extrude39_tool
    add(boss_extrude39_tool.part)

    # Sketch41 → Boss-Extrude40 (add)
    with BuildSketch(Plane(origin=(18.201408635, 0, 0), x_dir=(0, 0, -1), z_dir=(1, 0, 0))):
        Circle(SKETCH41_R)
    extrude(amount=BOSS_EXTRUDE40_DEPTH)

    # Sketch42 → Boss-Extrude41 (add)
    with BuildSketch(Plane(origin=(18.3242396, 0, 0), x_dir=(0, 0, -1), z_dir=(1, 0, 0))):
        Circle(SKETCH42_R)
    extrude(amount=BOSS_EXTRUDE41_DEPTH, taper=BOSS_EXTRUDE41_TAPER)


with BuildPart() as boss_extrude42_tool:
    # Sketch43 → Boss-Extrude42 (with draft: the straight prism first)
    with BuildSketch(Plane(origin=(18.703065882, 0, 0), x_dir=(0, 0, -1), z_dir=(1, 0, 0))):
        Circle(SKETCH43_R)
    extrude(amount=BOSS_EXTRUDE42_DEPTH)
    # Boss-Extrude42: the draft: its side faces are tilted about the plane it starts from
    boss_extrude42_sides = [boss_extrude42_tool.faces().sort_by_distance(p)[0] for p in [
        (18.892479023, 0, 2.63398),
    ]]
    draft(boss_extrude42_sides, Plane(origin=(18.703065882, 0, 0), x_dir=(0, 0, -1), z_dir=(1, 0, 0)), BOSS_EXTRUDE42_DRAFT)


with BuildPart() as part_14:
    add(part_13.part)

    # Boss-Extrude42: add boss_extrude42_tool
    add(boss_extrude42_tool.part)

    # Sketch44 → Boss-Extrude43 (add)
    with BuildSketch(Plane(origin=(19.081892165, 0, 0), x_dir=(0, 0, -1), z_dir=(1, 0, 0))):
        Circle(SKETCH44_R)
    extrude(amount=BOSS_EXTRUDE43_DEPTH)

    # Sketch45 → Boss-Extrude44 (add)
    with BuildSketch(Plane(origin=(19.204723129, 0, 0), x_dir=(0, 0, -1), z_dir=(1, 0, 0))):
        Circle(SKETCH45_R)
    extrude(amount=BOSS_EXTRUDE44_DEPTH, taper=BOSS_EXTRUDE44_TAPER)


with BuildPart() as boss_extrude45_tool:
    # Sketch46 → Boss-Extrude45 (with draft: the straight prism first)
    with BuildSketch(Plane(origin=(19.583549412, 0, 0), x_dir=(0, 0, -1), z_dir=(1, 0, 0))):
        Circle(SKETCH46_R)
    extrude(amount=BOSS_EXTRUDE45_DEPTH)
    # Boss-Extrude45: the draft: its side faces are tilted about the plane it starts from
    boss_extrude45_sides = [boss_extrude45_tool.faces().sort_by_distance(p)[0] for p in [
        (19.772962553, 0, 2.63398),
    ]]
    draft(boss_extrude45_sides, Plane(origin=(19.583549412, 0, 0), x_dir=(0, 0, -1), z_dir=(1, 0, 0)), BOSS_EXTRUDE45_DRAFT)


with BuildPart() as part_15:
    add(part_14.part)

    # Boss-Extrude45: add boss_extrude45_tool
    add(boss_extrude45_tool.part)

    # Sketch47 → Boss-Extrude46 (add)
    with BuildSketch(Plane(origin=(19.962375694, 0, 0), x_dir=(0, 0, -1), z_dir=(1, 0, 0))):
        Circle(SKETCH47_R)
    extrude(amount=BOSS_EXTRUDE46_DEPTH)

    # Sketch48 → Boss-Extrude47 (add)
    with BuildSketch(Plane(origin=(20.085206659, 0, 0), x_dir=(0, 0, -1), z_dir=(1, 0, 0))):
        Circle(SKETCH48_R)
    extrude(amount=BOSS_EXTRUDE47_DEPTH, taper=BOSS_EXTRUDE47_TAPER)


with BuildPart() as boss_extrude48_tool:
    # Sketch49 → Boss-Extrude48 (with draft: the straight prism first)
    with BuildSketch(Plane(origin=(20.464032941, 0, 0), x_dir=(0, 0, -1), z_dir=(1, 0, 0))):
        Circle(SKETCH49_R)
    extrude(amount=BOSS_EXTRUDE48_DEPTH)
    # Boss-Extrude48: the draft: its side faces are tilted about the plane it starts from
    boss_extrude48_sides = [boss_extrude48_tool.faces().sort_by_distance(p)[0] for p in [
        (20.653446082, 0, 2.63398),
    ]]
    draft(boss_extrude48_sides, Plane(origin=(20.464032941, 0, 0), x_dir=(0, 0, -1), z_dir=(1, 0, 0)), BOSS_EXTRUDE48_DRAFT)


with BuildPart() as part_16:
    add(part_15.part)

    # Boss-Extrude48: add boss_extrude48_tool
    add(boss_extrude48_tool.part)

    # Sketch50 → Boss-Extrude49 (add)
    with BuildSketch(Plane(origin=(20.842859223, 0, 0), x_dir=(0, 0, -1), z_dir=(1, 0, 0))):
        Circle(SKETCH50_R)
    extrude(amount=BOSS_EXTRUDE49_DEPTH)

    # Sketch51 → Boss-Extrude50 (add)
    with BuildSketch(Plane(origin=(20.965690188, 0, 0), x_dir=(0, 0, -1), z_dir=(1, 0, 0))):
        Circle(SKETCH51_R)
    extrude(amount=BOSS_EXTRUDE50_DEPTH, taper=BOSS_EXTRUDE50_TAPER)


with BuildPart() as boss_extrude51_tool:
    # Sketch52 → Boss-Extrude51 (with draft: the straight prism first)
    with BuildSketch(Plane(origin=(21.344516471, 0, 0), x_dir=(0, 0, -1), z_dir=(1, 0, 0))):
        Circle(SKETCH52_R)
    extrude(amount=BOSS_EXTRUDE51_DEPTH)
    # Boss-Extrude51: the draft: its side faces are tilted about the plane it starts from
    boss_extrude51_sides = [boss_extrude51_tool.faces().sort_by_distance(p)[0] for p in [
        (21.525824102, 0, 2.63398),
    ]]
    draft(boss_extrude51_sides, Plane(origin=(21.344516471, 0, 0), x_dir=(0, 0, -1), z_dir=(1, 0, 0)), BOSS_EXTRUDE51_DRAFT)


with BuildPart() as part_17:
    add(part_16.part)

    # Boss-Extrude51: add boss_extrude51_tool
    add(boss_extrude51_tool.part)

    # Sketch53 → Boss-Extrude52 (add)
    with BuildSketch(Plane(origin=(21.707131734, 0, 0), x_dir=(0, 0, -1), z_dir=(1, 0, 0))):
        Circle(SKETCH53_R)
    extrude(amount=BOSS_EXTRUDE52_DEPTH, taper=BOSS_EXTRUDE52_TAPER)

    # Sketch54 → Cut-Extrude1 (cut)
    with BuildSketch(Plane.ZY):
        Polygon((-2.38125, -1.374815329), (0, -2.749630657), (2.38125, -1.374815329), (2.38125, 1.374815329), (0, 2.749630657), (-2.38125, 1.374815329), align=None)
    extrude(amount=-CUT_EXTRUDE1_DEPTH, mode=Mode.SUBTRACT)

    # Sketch55 → Cut-Revolve1 (revolve, cut)
    with BuildSketch(Plane.XY, mode=Mode.PRIVATE) as cut_revolve1_sk:
        Polygon((3.048, 2.38125), (3.048, 0), (4.422815329, 0), align=None)
    revolve(cut_revolve1_sk.sketch.rotate(Axis((3.047975, 0, 0), (1, 0, 0)), 90), axis=Axis((3.047975, 0, 0), (1, 0, 0)), mode=Mode.SUBTRACT)

    # Chamfer1
    chamfer1_edges = [part_17.edges().sort_by_distance(p)[0] for p in [
        (0, 0, -4.7625),
    ]]
    chamfer(chamfer1_edges, length=CHAMFER1_SIZE)

    # Fillet1
    fillet1_edges = [part_17.edges().sort_by_distance(p)[0] for p in [
        (6.35, 0, 3.175),
    ]]
    fillet(fillet1_edges, radius=FILLET1_R)


solid = part_17.part
